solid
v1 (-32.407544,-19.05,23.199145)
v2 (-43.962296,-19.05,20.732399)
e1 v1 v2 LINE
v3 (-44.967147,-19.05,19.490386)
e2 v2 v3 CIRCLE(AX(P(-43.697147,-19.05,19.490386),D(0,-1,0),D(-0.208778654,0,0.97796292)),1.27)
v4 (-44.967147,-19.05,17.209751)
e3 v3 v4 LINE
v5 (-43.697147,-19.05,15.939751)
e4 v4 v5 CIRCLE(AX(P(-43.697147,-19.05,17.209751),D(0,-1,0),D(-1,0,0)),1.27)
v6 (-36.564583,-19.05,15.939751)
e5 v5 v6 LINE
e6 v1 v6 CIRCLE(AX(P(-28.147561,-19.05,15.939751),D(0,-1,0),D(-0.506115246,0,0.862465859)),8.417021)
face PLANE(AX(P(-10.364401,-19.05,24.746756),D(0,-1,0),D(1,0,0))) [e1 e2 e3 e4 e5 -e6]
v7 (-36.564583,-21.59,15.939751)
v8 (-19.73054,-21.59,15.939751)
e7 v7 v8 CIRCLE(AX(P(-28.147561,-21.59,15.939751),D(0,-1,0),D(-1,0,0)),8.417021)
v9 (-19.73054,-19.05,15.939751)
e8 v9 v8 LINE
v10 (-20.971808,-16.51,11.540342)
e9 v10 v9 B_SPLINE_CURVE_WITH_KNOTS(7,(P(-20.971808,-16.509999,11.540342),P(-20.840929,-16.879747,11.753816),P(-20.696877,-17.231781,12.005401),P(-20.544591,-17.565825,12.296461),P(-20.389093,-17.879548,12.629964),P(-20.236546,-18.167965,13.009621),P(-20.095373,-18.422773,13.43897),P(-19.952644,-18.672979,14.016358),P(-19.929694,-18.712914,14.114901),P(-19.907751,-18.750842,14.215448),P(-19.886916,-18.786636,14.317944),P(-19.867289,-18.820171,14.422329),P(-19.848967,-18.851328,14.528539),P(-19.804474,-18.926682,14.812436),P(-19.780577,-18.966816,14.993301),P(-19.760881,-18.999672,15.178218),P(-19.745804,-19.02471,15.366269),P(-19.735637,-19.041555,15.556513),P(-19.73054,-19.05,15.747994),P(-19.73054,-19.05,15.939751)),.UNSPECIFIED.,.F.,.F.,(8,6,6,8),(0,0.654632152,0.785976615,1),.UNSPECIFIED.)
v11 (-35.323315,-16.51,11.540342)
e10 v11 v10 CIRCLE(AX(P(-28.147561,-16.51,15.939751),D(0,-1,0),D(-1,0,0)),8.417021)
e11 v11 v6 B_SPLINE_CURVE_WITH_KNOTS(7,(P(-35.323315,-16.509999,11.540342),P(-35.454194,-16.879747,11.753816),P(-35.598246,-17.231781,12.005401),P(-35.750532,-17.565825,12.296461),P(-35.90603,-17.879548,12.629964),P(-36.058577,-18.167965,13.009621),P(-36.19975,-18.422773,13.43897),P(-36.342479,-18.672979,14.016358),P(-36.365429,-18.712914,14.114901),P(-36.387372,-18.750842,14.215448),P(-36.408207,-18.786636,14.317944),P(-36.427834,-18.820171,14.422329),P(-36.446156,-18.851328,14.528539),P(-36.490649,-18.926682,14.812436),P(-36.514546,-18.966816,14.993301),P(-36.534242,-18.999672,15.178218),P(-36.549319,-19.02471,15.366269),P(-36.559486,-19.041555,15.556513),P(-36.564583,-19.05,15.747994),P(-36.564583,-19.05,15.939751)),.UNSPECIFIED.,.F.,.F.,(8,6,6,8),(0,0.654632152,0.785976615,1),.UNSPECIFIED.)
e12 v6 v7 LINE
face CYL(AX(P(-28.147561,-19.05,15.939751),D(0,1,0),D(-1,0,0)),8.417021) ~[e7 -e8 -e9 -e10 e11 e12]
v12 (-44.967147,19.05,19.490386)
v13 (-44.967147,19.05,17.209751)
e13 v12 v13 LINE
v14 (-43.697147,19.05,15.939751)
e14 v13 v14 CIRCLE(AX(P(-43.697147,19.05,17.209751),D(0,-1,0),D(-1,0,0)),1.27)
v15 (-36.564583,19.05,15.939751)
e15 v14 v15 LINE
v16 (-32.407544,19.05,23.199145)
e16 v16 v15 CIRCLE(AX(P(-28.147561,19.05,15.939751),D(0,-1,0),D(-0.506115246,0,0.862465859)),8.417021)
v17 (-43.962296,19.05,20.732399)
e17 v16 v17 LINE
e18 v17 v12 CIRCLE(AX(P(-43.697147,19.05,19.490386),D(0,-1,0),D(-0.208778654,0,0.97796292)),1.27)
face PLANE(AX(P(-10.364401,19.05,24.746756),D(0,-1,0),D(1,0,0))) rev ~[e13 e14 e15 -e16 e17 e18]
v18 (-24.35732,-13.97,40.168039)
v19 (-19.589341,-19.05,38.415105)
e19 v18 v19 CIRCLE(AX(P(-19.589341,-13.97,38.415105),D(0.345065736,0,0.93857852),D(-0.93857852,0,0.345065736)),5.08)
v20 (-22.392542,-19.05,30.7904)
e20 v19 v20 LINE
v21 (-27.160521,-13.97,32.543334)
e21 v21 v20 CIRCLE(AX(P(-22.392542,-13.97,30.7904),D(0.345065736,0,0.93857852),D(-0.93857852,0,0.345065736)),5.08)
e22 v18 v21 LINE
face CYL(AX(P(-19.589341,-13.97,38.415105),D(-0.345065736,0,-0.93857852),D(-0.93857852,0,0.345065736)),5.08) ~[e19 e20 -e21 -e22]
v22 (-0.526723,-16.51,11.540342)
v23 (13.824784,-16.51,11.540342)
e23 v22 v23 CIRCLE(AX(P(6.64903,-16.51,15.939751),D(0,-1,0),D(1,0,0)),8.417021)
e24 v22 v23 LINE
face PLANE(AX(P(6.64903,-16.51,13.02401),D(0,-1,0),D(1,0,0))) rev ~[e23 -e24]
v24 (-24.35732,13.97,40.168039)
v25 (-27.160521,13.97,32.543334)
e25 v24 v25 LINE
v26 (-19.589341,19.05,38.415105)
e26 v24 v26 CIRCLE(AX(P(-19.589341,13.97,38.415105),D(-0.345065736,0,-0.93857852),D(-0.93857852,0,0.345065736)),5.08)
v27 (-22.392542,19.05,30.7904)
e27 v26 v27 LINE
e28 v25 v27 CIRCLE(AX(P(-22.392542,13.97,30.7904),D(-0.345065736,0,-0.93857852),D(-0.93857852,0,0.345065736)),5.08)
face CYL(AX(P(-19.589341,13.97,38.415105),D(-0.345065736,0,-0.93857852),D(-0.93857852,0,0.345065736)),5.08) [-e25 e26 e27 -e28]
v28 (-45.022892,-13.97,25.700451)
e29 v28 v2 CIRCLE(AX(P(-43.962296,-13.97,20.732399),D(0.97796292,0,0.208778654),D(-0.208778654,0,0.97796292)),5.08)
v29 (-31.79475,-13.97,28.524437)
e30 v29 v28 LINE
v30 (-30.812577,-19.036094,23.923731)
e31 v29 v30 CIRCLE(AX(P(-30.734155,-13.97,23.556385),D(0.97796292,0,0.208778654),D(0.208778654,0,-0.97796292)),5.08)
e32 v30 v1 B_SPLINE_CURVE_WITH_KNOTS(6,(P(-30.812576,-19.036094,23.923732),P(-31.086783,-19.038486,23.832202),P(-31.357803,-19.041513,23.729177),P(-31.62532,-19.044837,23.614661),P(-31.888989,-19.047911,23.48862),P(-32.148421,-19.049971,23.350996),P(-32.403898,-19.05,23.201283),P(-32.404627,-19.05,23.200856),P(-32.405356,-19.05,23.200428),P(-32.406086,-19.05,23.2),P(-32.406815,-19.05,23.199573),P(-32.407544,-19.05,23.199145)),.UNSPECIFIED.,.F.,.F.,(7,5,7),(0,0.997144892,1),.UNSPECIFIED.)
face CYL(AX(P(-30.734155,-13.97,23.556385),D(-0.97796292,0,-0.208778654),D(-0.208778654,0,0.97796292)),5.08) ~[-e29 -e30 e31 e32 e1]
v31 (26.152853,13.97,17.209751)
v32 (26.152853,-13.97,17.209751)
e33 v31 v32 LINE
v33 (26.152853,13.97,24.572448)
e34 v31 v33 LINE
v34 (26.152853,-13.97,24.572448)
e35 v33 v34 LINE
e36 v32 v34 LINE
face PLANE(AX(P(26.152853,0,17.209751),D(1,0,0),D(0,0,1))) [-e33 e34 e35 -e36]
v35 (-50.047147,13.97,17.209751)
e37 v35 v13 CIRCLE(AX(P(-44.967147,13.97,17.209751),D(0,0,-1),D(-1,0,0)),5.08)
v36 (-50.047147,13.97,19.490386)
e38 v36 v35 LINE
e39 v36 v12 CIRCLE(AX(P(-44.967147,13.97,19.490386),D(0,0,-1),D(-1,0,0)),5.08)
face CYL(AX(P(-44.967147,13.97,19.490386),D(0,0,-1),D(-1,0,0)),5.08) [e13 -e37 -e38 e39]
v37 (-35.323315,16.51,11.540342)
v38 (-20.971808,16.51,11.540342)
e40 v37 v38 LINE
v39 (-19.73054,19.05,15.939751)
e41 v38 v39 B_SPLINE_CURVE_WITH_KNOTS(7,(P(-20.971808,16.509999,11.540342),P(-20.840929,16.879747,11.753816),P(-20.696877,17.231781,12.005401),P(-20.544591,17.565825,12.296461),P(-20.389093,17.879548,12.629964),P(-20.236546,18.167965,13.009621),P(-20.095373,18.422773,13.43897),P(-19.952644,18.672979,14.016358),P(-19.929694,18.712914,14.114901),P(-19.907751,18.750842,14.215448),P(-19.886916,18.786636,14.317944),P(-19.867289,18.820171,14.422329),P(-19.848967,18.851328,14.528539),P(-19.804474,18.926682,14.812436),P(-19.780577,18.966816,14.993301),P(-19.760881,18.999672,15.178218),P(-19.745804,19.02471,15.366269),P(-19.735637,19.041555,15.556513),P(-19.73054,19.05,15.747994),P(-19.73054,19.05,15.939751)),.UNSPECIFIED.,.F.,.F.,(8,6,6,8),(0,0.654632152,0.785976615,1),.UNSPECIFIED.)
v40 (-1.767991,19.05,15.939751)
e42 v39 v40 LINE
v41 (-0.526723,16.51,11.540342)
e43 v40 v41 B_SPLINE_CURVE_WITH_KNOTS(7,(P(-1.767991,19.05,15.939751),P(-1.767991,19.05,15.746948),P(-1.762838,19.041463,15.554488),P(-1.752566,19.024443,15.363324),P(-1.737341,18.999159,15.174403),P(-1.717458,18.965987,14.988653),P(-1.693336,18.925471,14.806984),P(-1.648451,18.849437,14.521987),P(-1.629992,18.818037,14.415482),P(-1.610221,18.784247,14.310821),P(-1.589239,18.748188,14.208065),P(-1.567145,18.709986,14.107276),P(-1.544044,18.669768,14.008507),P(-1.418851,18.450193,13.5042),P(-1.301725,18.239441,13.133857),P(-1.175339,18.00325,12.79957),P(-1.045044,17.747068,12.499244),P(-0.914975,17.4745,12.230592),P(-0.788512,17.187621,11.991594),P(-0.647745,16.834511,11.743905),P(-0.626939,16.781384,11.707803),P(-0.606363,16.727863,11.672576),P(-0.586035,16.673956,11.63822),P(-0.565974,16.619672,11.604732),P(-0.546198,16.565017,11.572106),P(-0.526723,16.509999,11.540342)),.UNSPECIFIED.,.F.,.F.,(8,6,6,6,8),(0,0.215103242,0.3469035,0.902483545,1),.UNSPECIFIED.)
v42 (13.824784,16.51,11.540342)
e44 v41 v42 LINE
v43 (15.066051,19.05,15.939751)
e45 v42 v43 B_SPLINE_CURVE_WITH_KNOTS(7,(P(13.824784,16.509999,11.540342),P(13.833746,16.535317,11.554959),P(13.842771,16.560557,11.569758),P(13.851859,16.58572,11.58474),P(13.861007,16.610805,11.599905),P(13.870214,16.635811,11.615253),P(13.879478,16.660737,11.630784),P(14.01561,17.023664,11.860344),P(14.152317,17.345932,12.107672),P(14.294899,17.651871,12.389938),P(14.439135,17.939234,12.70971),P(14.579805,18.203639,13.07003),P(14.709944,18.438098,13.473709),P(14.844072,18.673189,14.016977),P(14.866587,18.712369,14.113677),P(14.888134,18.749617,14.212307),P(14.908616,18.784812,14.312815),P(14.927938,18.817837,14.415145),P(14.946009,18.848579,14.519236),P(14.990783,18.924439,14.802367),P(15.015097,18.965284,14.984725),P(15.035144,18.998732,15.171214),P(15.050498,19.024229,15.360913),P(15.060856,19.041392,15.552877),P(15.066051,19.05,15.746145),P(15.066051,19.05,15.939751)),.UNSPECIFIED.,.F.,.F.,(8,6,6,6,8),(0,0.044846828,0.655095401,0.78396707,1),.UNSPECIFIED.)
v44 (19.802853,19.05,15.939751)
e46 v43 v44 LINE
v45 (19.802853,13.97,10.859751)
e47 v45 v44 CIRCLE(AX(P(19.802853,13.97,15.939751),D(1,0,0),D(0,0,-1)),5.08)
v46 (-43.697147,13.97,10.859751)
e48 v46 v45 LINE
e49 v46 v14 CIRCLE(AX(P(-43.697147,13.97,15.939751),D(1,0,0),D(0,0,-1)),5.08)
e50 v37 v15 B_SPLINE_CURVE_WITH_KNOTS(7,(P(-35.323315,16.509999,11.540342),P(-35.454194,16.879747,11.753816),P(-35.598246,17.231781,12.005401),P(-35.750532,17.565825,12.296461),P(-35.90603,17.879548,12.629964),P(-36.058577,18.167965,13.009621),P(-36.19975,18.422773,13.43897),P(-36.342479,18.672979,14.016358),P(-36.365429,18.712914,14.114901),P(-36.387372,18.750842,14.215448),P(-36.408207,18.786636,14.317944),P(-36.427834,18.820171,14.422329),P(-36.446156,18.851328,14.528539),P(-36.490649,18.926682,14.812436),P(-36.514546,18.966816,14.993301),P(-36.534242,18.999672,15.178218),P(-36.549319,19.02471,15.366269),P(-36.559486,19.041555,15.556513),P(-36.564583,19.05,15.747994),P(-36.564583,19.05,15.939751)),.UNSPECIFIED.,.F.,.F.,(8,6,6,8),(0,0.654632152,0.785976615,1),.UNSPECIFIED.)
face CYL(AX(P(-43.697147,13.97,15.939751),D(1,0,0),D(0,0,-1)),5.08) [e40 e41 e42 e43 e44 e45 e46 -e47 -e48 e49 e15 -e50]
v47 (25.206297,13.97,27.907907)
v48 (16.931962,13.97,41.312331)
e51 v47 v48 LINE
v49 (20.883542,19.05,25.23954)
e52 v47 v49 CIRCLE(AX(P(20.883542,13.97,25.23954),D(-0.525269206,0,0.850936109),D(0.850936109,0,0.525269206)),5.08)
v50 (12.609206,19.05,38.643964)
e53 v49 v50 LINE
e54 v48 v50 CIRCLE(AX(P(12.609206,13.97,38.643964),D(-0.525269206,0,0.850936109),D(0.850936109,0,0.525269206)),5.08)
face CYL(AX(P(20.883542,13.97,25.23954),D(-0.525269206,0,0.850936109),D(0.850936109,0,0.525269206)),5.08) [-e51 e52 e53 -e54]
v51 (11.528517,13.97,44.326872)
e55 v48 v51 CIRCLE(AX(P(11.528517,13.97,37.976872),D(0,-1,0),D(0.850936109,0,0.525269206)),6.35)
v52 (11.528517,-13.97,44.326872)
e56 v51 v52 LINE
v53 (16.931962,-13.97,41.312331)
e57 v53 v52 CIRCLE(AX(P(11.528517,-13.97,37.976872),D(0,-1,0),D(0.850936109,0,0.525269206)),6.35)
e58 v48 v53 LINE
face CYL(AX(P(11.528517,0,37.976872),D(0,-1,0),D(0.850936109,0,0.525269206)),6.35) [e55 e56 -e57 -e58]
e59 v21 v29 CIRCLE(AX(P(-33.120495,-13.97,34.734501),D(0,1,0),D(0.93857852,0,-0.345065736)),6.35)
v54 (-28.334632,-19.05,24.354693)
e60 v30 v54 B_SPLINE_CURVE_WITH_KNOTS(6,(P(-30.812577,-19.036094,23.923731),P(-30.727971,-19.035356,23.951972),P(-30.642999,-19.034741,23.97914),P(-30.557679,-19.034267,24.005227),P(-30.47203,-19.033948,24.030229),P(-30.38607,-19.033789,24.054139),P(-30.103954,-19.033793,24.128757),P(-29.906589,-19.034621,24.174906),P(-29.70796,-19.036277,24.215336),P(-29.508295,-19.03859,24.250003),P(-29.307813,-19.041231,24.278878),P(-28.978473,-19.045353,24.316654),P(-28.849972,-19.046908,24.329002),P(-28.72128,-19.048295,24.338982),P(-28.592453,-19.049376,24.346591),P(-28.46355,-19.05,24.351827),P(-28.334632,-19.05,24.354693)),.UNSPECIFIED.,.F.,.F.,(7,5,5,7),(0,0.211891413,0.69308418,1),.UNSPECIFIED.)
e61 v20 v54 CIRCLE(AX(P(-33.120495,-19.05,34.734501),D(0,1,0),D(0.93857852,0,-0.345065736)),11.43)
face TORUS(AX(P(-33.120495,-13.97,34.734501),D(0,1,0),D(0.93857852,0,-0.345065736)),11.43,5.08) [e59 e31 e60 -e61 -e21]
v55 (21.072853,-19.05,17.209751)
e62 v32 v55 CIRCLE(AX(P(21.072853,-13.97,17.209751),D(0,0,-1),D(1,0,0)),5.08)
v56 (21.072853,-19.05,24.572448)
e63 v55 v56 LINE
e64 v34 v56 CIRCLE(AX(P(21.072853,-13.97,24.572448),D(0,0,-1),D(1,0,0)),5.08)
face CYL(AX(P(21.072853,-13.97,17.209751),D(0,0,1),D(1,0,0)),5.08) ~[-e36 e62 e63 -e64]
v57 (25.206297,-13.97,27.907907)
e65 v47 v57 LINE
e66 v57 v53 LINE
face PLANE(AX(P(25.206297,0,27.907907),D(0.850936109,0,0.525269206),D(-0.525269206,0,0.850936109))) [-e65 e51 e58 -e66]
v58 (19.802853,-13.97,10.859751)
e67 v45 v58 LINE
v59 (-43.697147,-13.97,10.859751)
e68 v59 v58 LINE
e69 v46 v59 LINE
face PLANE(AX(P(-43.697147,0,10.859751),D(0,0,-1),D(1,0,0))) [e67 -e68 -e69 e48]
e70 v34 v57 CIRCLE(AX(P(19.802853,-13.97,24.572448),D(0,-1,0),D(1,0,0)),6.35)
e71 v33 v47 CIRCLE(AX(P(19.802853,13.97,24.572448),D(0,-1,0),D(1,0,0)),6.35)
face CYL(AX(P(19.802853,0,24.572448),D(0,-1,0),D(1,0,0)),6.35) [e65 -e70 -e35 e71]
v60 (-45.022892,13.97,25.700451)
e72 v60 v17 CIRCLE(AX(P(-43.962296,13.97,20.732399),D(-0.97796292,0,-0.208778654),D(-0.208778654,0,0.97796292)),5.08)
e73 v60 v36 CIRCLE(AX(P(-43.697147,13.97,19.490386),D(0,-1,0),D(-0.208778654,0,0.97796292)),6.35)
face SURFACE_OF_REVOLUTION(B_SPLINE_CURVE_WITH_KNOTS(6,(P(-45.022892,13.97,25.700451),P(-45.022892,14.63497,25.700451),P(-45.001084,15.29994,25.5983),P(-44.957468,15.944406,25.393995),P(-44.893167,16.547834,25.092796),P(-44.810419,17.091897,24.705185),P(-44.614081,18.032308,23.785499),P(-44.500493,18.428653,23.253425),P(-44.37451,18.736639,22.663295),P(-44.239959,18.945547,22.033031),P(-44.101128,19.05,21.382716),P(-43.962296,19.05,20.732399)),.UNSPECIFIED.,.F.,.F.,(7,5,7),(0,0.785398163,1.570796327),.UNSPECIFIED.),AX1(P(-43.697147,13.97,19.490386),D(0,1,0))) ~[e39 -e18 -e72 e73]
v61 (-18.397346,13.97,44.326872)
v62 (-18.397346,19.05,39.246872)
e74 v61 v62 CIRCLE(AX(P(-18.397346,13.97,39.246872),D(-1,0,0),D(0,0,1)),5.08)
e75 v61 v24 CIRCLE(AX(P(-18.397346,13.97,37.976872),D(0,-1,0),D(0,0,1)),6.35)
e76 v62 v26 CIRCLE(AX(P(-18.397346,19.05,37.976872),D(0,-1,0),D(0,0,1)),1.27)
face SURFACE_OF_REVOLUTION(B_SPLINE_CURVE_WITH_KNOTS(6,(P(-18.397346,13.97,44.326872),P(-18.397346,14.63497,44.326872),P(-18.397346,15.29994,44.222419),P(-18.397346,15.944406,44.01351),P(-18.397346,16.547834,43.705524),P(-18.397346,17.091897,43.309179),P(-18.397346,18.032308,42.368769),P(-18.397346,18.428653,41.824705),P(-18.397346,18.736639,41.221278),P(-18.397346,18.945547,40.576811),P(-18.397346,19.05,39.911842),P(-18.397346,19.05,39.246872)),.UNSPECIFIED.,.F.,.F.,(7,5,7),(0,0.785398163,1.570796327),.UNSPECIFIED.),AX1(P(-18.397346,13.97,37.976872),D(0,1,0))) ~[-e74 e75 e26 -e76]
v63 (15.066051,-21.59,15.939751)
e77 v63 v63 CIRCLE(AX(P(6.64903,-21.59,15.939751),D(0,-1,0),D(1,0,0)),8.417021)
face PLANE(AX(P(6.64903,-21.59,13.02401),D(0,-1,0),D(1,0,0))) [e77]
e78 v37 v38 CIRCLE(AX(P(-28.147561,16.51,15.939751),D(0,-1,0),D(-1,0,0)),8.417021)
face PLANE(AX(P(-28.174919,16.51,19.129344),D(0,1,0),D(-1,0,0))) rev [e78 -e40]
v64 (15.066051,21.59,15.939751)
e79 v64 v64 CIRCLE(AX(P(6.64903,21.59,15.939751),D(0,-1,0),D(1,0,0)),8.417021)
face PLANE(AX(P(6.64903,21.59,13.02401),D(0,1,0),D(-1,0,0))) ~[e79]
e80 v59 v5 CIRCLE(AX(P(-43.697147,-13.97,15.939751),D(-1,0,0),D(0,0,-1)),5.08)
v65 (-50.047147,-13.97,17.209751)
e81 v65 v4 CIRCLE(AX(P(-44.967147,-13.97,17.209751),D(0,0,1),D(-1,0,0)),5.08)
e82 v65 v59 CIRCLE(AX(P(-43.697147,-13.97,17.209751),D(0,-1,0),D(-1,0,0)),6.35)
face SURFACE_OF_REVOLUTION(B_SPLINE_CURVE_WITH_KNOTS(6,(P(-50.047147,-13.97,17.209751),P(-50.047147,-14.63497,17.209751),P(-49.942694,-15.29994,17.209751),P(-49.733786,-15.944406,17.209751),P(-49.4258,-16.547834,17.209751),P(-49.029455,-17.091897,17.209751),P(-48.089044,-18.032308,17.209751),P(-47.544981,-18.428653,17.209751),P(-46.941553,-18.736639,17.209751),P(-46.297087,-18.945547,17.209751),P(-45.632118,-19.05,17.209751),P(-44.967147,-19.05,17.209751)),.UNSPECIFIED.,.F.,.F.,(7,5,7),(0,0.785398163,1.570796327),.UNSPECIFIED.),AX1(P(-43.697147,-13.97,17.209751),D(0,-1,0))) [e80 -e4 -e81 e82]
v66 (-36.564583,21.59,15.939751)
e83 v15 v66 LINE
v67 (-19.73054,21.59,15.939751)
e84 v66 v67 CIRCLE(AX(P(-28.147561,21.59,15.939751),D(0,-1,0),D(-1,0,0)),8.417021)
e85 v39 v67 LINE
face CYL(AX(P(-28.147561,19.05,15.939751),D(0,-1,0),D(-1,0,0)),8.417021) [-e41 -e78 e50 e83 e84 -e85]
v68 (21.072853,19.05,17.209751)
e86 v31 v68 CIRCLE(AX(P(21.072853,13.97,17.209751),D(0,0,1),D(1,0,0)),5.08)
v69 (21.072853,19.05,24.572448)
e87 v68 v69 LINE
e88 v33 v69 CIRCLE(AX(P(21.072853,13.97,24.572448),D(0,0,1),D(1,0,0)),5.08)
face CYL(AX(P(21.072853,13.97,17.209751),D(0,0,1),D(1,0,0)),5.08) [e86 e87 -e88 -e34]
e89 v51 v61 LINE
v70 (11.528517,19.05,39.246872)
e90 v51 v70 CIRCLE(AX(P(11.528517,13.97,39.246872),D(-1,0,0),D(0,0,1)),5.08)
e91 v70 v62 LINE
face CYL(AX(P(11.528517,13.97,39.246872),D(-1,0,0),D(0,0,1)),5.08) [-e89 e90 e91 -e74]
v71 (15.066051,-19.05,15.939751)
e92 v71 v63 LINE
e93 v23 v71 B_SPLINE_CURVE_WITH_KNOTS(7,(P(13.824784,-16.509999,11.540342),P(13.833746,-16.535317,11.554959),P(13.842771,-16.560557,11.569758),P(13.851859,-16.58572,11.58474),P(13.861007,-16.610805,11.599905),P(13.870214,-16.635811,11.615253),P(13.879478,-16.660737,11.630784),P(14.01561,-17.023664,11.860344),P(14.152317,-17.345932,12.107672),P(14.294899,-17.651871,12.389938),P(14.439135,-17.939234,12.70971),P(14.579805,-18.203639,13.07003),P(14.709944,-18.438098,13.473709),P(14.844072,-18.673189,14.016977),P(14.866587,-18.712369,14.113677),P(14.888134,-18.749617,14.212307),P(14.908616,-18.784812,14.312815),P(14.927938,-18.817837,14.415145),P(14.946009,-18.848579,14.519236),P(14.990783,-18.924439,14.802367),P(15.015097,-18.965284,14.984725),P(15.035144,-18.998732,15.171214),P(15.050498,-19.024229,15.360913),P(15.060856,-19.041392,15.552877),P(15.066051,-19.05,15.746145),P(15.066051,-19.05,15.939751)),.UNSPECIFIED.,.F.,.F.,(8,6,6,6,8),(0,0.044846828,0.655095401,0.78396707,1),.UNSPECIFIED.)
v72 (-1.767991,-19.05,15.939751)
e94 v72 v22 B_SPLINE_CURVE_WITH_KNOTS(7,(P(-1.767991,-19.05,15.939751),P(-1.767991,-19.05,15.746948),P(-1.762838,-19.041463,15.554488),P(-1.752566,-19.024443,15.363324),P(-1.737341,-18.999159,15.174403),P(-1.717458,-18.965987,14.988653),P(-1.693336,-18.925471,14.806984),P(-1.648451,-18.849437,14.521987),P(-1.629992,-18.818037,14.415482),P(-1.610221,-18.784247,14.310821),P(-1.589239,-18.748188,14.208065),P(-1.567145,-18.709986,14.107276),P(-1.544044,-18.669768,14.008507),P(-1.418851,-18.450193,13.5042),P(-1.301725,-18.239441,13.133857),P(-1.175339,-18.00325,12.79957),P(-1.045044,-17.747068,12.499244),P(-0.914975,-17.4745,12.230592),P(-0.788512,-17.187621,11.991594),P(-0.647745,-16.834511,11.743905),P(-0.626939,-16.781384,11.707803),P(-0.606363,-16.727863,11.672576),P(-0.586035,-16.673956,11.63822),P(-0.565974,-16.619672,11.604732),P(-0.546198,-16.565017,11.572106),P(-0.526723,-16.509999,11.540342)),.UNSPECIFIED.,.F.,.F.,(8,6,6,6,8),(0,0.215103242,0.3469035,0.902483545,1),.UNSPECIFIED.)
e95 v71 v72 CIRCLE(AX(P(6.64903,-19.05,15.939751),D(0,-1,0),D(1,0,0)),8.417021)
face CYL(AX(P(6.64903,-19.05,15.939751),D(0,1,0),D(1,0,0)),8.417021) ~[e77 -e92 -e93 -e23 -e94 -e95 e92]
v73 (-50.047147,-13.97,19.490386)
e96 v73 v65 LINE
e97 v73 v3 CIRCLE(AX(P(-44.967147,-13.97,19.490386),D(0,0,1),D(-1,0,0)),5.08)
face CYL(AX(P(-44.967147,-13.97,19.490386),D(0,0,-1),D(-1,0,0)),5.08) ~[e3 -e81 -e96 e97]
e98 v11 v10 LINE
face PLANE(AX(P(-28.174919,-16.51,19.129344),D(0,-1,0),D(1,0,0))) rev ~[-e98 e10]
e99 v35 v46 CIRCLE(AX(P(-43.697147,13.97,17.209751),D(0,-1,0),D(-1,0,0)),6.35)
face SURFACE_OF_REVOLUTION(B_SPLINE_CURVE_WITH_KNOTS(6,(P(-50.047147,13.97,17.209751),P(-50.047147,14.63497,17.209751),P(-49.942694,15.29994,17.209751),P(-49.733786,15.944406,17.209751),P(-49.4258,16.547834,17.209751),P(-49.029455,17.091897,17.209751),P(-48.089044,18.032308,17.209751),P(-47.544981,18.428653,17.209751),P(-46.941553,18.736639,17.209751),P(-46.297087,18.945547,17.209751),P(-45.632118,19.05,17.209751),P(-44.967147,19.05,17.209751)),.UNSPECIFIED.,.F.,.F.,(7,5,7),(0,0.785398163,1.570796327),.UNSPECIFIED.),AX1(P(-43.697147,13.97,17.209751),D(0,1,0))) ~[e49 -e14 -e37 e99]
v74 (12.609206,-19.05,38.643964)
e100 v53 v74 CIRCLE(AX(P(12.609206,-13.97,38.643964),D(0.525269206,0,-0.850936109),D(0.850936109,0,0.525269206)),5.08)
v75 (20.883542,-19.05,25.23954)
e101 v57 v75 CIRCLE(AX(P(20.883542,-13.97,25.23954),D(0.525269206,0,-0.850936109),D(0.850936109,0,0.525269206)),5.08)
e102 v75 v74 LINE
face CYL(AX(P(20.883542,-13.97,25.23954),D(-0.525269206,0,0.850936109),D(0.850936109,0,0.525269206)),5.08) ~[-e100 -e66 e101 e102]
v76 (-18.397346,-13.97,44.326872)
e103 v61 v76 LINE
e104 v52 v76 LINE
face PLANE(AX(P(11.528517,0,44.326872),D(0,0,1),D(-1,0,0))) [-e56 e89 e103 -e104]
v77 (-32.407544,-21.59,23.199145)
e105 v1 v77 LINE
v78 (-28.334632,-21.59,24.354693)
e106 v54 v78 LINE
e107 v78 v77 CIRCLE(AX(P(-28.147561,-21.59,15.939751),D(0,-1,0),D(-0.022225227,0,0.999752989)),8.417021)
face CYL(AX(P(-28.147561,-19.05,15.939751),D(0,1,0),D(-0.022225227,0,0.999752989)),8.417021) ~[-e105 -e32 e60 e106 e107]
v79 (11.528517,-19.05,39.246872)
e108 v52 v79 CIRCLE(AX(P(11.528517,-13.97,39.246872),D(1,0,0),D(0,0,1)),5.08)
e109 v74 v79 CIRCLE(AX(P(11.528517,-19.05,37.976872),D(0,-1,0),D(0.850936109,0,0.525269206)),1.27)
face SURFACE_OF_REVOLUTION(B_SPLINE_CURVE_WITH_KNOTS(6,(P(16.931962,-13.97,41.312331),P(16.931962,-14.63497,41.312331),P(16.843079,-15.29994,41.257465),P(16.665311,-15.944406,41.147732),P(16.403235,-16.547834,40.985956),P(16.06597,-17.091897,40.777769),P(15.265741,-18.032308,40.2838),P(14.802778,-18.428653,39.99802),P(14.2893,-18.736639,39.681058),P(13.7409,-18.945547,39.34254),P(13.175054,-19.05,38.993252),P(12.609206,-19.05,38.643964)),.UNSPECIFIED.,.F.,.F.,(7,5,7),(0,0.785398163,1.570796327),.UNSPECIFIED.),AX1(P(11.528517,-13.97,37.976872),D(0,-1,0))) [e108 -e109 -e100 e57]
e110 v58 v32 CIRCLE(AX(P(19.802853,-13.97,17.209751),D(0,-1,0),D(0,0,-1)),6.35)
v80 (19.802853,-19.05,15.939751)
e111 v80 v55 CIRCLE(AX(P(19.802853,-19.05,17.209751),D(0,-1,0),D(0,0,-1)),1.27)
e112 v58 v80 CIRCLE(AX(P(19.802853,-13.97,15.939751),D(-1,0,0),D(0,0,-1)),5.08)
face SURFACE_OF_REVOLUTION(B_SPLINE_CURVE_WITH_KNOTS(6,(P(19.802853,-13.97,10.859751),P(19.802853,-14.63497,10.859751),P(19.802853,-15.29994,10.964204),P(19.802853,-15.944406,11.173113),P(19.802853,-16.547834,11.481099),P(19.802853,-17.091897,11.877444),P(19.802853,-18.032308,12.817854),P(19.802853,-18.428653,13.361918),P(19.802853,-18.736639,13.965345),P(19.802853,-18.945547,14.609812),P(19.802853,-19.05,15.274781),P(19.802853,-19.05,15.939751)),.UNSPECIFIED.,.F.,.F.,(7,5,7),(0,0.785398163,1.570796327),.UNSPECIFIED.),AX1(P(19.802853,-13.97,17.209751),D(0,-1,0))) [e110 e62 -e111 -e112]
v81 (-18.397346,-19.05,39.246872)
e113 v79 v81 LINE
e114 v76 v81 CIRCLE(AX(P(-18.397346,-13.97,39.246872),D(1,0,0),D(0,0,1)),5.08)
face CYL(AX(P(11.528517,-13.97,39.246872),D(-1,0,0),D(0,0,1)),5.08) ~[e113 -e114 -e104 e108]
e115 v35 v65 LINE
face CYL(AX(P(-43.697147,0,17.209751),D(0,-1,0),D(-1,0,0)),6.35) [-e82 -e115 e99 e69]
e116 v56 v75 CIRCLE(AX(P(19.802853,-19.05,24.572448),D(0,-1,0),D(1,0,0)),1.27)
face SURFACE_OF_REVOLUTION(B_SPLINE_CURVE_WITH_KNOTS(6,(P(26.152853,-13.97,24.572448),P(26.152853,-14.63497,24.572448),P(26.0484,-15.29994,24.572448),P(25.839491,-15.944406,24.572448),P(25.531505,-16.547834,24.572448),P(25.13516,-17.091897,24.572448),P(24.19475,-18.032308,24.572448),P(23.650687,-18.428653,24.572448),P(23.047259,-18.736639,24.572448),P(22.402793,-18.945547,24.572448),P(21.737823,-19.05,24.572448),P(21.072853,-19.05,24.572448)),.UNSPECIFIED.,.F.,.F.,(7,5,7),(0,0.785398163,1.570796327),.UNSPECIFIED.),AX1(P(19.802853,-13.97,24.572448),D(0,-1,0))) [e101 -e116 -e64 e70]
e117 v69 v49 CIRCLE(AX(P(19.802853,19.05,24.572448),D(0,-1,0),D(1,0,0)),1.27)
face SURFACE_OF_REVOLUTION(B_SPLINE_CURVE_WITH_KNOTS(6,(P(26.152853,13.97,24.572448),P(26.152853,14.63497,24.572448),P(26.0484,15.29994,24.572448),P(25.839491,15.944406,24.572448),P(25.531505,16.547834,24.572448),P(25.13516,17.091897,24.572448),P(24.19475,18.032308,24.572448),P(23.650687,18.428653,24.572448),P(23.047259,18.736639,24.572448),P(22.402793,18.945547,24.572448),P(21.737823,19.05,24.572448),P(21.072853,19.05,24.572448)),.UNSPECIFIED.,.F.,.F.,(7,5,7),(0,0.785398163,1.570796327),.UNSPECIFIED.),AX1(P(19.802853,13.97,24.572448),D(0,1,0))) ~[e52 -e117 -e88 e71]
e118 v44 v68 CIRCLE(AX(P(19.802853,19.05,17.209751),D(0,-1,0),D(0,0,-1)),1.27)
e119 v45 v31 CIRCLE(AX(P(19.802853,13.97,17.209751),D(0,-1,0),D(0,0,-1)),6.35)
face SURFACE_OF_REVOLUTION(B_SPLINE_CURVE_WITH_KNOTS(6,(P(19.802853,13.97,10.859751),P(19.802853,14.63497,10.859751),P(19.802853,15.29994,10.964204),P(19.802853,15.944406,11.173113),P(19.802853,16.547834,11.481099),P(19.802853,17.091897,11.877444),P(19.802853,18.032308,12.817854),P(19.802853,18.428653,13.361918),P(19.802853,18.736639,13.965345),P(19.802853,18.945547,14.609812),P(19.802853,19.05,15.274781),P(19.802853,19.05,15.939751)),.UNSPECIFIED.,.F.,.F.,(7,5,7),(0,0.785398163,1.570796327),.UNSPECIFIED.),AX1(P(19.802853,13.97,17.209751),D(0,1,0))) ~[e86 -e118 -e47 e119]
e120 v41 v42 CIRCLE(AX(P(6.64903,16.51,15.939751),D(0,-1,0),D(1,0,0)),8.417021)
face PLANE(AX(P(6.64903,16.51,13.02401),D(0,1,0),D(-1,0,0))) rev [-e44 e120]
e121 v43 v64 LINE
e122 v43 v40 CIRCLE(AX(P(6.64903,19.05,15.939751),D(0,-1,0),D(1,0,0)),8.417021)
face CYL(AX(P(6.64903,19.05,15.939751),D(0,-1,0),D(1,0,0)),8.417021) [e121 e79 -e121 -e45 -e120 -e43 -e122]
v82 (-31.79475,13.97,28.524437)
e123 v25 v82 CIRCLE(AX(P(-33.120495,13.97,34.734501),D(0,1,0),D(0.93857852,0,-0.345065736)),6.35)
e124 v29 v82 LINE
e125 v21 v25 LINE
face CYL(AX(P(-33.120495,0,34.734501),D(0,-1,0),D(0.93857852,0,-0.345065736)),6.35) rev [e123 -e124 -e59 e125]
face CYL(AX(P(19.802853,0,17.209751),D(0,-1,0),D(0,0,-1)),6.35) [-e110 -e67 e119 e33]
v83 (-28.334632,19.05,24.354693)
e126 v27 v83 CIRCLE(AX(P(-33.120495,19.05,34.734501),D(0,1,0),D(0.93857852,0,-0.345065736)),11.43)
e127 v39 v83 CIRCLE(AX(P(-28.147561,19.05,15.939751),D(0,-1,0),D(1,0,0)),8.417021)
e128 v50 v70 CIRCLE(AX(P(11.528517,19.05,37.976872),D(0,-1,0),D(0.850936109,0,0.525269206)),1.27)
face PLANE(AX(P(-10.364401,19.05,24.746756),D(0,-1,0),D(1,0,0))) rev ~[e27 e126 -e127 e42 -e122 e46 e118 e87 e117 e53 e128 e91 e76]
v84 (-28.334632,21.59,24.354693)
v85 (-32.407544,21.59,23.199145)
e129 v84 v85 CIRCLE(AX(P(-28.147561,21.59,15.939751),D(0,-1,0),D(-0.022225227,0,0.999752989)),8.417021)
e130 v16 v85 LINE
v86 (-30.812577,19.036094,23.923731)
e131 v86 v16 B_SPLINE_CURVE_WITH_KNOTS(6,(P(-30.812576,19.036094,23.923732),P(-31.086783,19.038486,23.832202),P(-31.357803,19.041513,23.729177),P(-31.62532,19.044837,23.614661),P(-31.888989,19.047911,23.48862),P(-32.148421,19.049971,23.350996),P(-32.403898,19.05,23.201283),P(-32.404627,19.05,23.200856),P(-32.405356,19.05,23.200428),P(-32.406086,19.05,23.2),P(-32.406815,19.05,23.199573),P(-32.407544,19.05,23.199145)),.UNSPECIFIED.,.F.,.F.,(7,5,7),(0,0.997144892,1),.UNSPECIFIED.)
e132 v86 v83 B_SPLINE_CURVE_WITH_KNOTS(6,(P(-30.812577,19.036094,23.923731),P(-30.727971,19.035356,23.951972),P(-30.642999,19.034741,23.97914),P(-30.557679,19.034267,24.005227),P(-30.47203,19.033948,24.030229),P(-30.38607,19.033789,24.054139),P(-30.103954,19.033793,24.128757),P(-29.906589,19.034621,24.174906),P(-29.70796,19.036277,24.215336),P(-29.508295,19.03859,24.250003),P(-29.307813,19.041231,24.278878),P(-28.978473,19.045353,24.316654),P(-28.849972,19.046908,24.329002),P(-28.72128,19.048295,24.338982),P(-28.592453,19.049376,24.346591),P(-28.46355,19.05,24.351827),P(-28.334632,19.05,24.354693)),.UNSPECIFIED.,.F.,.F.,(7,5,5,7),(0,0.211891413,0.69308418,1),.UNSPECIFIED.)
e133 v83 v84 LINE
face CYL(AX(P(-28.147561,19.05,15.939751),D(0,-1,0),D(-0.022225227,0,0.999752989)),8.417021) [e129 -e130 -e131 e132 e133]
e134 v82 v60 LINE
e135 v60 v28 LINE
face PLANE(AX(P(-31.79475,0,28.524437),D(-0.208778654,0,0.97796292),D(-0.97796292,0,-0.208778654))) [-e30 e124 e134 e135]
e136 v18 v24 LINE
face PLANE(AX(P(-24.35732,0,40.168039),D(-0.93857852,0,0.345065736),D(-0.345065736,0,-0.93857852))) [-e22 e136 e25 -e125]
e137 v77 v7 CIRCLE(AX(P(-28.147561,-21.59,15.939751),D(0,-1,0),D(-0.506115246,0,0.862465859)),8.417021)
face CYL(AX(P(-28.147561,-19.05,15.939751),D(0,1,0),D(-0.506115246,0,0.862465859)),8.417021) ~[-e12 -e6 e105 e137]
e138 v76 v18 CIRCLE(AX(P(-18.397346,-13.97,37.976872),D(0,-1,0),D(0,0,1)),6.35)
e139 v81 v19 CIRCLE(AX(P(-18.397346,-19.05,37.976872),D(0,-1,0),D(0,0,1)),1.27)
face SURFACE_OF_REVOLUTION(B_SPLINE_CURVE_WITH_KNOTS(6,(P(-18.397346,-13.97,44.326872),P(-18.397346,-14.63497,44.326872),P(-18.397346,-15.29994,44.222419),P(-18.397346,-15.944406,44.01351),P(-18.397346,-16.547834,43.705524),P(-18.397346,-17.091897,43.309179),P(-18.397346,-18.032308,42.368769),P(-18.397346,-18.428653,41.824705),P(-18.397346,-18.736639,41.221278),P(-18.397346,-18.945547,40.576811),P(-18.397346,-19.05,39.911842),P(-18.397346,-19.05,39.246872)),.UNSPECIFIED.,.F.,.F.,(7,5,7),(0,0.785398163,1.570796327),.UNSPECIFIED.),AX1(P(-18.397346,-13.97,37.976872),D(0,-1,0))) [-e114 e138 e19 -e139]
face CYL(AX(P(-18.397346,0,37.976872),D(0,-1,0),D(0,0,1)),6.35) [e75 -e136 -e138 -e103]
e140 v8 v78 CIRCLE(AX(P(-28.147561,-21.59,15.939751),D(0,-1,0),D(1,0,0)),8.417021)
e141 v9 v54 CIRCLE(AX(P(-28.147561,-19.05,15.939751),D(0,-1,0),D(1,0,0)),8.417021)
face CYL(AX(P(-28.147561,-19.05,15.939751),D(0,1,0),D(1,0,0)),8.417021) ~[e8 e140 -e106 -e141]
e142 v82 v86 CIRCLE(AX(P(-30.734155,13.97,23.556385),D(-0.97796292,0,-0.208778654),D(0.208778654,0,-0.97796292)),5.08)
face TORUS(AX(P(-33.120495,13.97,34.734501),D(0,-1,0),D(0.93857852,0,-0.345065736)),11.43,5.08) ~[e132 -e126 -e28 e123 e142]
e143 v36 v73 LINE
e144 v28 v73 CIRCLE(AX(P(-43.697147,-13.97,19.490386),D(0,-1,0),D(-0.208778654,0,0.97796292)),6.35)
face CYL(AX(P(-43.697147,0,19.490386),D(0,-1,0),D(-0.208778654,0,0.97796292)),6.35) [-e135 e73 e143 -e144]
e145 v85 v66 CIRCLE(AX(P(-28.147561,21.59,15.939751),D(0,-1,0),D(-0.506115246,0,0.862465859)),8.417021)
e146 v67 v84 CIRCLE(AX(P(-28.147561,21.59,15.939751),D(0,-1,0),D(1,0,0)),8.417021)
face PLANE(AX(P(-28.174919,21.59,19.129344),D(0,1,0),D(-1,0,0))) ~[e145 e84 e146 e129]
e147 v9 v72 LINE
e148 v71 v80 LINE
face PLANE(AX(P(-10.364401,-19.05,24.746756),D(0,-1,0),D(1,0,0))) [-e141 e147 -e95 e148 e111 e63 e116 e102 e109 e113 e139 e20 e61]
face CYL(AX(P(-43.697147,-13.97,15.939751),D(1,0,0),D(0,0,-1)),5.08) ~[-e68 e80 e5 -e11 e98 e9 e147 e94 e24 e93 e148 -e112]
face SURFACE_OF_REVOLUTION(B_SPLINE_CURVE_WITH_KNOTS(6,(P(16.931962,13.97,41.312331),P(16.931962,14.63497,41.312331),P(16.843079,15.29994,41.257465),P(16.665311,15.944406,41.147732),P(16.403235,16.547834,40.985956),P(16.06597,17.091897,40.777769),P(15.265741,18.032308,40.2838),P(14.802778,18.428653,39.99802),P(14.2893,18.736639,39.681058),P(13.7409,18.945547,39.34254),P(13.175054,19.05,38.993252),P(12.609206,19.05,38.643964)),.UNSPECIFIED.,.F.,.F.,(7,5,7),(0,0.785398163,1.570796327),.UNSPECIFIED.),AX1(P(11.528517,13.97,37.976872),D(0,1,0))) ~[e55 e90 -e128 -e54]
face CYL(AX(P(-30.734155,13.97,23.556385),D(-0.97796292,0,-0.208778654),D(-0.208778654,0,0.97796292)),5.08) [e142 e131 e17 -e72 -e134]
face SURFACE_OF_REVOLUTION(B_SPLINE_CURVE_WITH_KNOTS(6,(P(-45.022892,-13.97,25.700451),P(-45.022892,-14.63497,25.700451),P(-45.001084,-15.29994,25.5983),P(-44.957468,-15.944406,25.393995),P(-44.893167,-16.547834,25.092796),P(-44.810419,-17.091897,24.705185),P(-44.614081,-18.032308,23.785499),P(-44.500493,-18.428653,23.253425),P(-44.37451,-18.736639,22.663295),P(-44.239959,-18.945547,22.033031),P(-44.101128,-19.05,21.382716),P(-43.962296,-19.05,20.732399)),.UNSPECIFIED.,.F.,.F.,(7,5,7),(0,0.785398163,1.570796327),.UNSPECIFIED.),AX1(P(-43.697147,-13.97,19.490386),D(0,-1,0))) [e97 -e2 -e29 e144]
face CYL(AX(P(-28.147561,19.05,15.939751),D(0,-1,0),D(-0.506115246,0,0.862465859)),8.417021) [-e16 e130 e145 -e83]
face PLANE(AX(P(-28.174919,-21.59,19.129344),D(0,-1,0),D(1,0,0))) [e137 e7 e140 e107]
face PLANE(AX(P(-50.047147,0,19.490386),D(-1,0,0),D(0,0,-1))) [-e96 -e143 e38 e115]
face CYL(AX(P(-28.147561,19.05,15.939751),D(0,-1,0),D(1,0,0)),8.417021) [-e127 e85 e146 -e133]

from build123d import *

# Parameters (mm, degrees)
F1_DEPTH = 19.05
F2_R     = 5.08
F4_DEPTH = 2.54


with BuildPart() as f1:
    # F0 (on Front) → F1 (new body, symmetric)
    with BuildSketch(Plane.XZ):
        with BuildLine():
            Line((-31.7947502343, 28.5244368225), (-45.0228915296, 25.7004508864))
            ThreePointArc((-45.0228915296, 25.7004508864), (-48.6337945871, 23.4843832577), (-50.0471470773, 19.4903863419))
            Line((-50.0471470773, 19.4903863419), (-50.0471470773, 17.209751375))
            ThreePointArc((-50.0471470773, 17.209751375), (-48.1872751379, 12.7196233145), (-43.6971470773, 10.859751375))
            Line((-43.6971470773, 10.859751375), (19.8028529227, 10.859751375))
            ThreePointArc((19.8028529227, 10.859751375), (24.2929809832, 12.7196233145), (26.1528529227, 17.209751375))
            Line((26.1528529227, 17.209751375), (26.1528529227, 24.5724479892))
            ThreePointArc((26.1528529227, 24.5724479892), (25.9116323119, 26.3060322456), (25.2062972144, 27.9079074459))
            Line((25.2062972144, 27.9079074459), (16.9319615885, 41.3123310901))
            ThreePointArc((16.9319615885, 41.3123310901), (14.6222474443, 43.5222601478), (11.5285172969, 44.3268716335))
            Line((11.5285172969, 44.3268716335), (-18.3973462303, 44.3268716335))
            ThreePointArc((-18.3973462303, 44.3268716335), (-22.0311174702, 43.1843860671), (-24.3573198303, 40.168039059))
            Line((-24.3573198303, 40.168039059), (-27.1605210865, 32.5433339416))
            ThreePointArc((-27.1605210865, 32.5433339416), (-28.9601695313, 29.9371901824), (-31.7947502343, 28.5244368225))
        make_face()
    extrude(amount=F1_DEPTH, both=True)

    # F2
    f2_edges = [f1.edges().sort_by_distance(p)[0] for p in [
        (-3.434414, -19.05, 44.326872),
        (-3.434414, 19.05, 44.326872),
    ]]
    fillet(f2_edges, radius=F2_R)

    # F3 (on face) → F4 (join, symmetric)
    with BuildSketch(Plane.XZ.offset(19.05)):
        with BuildLine():
            Line((15.0660514035, 15.939751375), (-1.7679906585, 15.939751375))
            ThreePointArc((-1.7679906585, 15.939751375), (6.6490303725, 7.522730344), (15.0660514035, 15.939751375))
        make_face()
        with BuildLine():
            ThreePointArc((15.0660514035, 15.939751375), (6.6490303725, 24.356772406), (-1.7679906585, 15.939751375))
            Line((-1.7679906585, 15.939751375), (15.0660514035, 15.939751375))
        make_face()
        with BuildLine():
            Line((-36.5645825066, 15.939751375), (-19.7305404446, 15.939751375))
            ThreePointArc((-19.7305404446, 15.939751375), (-22.2623397644, 21.9572598666), (-28.3346316813, 24.3546933103))
            ThreePointArc((-28.3346316813, 24.3546933103), (-29.5122474663, 23.8889745473), (-30.7341546725, 23.5563851869))
            Line((-30.7341546725, 23.5563851869), (-32.4075441475, 23.1991446466))
            ThreePointArc((-32.4075441475, 23.1991446466), (-35.451759131, 20.1224466362), (-36.5645825066, 15.939751375))
        make_face()
        with BuildLine():
            ThreePointArc((-30.7341546725, 23.5563851869), (-29.5122474663, 23.8889745473), (-28.3346316813, 24.3546933103))
            ThreePointArc((-28.3346316813, 24.3546933103), (-30.444928012, 24.0371799813), (-32.4075441475, 23.1991446466))
            Line((-32.4075441475, 23.1991446466), (-30.7341546725, 23.5563851869))
        make_face()
        with BuildLine():
            ThreePointArc((-36.5645825066, 15.939751375), (-28.1475614756, 7.522730344), (-19.7305404446, 15.939751375))
            Line((-19.7305404446, 15.939751375), (-36.5645825066, 15.939751375))
        make_face()
    extrude(amount=F4_DEPTH, both=True)

    # F5: F1 across plane


with BuildPart() as f1_1:
    add(f1.part)
    add(f1.part.mirror(Plane.XZ))


solid = f1_1.part
